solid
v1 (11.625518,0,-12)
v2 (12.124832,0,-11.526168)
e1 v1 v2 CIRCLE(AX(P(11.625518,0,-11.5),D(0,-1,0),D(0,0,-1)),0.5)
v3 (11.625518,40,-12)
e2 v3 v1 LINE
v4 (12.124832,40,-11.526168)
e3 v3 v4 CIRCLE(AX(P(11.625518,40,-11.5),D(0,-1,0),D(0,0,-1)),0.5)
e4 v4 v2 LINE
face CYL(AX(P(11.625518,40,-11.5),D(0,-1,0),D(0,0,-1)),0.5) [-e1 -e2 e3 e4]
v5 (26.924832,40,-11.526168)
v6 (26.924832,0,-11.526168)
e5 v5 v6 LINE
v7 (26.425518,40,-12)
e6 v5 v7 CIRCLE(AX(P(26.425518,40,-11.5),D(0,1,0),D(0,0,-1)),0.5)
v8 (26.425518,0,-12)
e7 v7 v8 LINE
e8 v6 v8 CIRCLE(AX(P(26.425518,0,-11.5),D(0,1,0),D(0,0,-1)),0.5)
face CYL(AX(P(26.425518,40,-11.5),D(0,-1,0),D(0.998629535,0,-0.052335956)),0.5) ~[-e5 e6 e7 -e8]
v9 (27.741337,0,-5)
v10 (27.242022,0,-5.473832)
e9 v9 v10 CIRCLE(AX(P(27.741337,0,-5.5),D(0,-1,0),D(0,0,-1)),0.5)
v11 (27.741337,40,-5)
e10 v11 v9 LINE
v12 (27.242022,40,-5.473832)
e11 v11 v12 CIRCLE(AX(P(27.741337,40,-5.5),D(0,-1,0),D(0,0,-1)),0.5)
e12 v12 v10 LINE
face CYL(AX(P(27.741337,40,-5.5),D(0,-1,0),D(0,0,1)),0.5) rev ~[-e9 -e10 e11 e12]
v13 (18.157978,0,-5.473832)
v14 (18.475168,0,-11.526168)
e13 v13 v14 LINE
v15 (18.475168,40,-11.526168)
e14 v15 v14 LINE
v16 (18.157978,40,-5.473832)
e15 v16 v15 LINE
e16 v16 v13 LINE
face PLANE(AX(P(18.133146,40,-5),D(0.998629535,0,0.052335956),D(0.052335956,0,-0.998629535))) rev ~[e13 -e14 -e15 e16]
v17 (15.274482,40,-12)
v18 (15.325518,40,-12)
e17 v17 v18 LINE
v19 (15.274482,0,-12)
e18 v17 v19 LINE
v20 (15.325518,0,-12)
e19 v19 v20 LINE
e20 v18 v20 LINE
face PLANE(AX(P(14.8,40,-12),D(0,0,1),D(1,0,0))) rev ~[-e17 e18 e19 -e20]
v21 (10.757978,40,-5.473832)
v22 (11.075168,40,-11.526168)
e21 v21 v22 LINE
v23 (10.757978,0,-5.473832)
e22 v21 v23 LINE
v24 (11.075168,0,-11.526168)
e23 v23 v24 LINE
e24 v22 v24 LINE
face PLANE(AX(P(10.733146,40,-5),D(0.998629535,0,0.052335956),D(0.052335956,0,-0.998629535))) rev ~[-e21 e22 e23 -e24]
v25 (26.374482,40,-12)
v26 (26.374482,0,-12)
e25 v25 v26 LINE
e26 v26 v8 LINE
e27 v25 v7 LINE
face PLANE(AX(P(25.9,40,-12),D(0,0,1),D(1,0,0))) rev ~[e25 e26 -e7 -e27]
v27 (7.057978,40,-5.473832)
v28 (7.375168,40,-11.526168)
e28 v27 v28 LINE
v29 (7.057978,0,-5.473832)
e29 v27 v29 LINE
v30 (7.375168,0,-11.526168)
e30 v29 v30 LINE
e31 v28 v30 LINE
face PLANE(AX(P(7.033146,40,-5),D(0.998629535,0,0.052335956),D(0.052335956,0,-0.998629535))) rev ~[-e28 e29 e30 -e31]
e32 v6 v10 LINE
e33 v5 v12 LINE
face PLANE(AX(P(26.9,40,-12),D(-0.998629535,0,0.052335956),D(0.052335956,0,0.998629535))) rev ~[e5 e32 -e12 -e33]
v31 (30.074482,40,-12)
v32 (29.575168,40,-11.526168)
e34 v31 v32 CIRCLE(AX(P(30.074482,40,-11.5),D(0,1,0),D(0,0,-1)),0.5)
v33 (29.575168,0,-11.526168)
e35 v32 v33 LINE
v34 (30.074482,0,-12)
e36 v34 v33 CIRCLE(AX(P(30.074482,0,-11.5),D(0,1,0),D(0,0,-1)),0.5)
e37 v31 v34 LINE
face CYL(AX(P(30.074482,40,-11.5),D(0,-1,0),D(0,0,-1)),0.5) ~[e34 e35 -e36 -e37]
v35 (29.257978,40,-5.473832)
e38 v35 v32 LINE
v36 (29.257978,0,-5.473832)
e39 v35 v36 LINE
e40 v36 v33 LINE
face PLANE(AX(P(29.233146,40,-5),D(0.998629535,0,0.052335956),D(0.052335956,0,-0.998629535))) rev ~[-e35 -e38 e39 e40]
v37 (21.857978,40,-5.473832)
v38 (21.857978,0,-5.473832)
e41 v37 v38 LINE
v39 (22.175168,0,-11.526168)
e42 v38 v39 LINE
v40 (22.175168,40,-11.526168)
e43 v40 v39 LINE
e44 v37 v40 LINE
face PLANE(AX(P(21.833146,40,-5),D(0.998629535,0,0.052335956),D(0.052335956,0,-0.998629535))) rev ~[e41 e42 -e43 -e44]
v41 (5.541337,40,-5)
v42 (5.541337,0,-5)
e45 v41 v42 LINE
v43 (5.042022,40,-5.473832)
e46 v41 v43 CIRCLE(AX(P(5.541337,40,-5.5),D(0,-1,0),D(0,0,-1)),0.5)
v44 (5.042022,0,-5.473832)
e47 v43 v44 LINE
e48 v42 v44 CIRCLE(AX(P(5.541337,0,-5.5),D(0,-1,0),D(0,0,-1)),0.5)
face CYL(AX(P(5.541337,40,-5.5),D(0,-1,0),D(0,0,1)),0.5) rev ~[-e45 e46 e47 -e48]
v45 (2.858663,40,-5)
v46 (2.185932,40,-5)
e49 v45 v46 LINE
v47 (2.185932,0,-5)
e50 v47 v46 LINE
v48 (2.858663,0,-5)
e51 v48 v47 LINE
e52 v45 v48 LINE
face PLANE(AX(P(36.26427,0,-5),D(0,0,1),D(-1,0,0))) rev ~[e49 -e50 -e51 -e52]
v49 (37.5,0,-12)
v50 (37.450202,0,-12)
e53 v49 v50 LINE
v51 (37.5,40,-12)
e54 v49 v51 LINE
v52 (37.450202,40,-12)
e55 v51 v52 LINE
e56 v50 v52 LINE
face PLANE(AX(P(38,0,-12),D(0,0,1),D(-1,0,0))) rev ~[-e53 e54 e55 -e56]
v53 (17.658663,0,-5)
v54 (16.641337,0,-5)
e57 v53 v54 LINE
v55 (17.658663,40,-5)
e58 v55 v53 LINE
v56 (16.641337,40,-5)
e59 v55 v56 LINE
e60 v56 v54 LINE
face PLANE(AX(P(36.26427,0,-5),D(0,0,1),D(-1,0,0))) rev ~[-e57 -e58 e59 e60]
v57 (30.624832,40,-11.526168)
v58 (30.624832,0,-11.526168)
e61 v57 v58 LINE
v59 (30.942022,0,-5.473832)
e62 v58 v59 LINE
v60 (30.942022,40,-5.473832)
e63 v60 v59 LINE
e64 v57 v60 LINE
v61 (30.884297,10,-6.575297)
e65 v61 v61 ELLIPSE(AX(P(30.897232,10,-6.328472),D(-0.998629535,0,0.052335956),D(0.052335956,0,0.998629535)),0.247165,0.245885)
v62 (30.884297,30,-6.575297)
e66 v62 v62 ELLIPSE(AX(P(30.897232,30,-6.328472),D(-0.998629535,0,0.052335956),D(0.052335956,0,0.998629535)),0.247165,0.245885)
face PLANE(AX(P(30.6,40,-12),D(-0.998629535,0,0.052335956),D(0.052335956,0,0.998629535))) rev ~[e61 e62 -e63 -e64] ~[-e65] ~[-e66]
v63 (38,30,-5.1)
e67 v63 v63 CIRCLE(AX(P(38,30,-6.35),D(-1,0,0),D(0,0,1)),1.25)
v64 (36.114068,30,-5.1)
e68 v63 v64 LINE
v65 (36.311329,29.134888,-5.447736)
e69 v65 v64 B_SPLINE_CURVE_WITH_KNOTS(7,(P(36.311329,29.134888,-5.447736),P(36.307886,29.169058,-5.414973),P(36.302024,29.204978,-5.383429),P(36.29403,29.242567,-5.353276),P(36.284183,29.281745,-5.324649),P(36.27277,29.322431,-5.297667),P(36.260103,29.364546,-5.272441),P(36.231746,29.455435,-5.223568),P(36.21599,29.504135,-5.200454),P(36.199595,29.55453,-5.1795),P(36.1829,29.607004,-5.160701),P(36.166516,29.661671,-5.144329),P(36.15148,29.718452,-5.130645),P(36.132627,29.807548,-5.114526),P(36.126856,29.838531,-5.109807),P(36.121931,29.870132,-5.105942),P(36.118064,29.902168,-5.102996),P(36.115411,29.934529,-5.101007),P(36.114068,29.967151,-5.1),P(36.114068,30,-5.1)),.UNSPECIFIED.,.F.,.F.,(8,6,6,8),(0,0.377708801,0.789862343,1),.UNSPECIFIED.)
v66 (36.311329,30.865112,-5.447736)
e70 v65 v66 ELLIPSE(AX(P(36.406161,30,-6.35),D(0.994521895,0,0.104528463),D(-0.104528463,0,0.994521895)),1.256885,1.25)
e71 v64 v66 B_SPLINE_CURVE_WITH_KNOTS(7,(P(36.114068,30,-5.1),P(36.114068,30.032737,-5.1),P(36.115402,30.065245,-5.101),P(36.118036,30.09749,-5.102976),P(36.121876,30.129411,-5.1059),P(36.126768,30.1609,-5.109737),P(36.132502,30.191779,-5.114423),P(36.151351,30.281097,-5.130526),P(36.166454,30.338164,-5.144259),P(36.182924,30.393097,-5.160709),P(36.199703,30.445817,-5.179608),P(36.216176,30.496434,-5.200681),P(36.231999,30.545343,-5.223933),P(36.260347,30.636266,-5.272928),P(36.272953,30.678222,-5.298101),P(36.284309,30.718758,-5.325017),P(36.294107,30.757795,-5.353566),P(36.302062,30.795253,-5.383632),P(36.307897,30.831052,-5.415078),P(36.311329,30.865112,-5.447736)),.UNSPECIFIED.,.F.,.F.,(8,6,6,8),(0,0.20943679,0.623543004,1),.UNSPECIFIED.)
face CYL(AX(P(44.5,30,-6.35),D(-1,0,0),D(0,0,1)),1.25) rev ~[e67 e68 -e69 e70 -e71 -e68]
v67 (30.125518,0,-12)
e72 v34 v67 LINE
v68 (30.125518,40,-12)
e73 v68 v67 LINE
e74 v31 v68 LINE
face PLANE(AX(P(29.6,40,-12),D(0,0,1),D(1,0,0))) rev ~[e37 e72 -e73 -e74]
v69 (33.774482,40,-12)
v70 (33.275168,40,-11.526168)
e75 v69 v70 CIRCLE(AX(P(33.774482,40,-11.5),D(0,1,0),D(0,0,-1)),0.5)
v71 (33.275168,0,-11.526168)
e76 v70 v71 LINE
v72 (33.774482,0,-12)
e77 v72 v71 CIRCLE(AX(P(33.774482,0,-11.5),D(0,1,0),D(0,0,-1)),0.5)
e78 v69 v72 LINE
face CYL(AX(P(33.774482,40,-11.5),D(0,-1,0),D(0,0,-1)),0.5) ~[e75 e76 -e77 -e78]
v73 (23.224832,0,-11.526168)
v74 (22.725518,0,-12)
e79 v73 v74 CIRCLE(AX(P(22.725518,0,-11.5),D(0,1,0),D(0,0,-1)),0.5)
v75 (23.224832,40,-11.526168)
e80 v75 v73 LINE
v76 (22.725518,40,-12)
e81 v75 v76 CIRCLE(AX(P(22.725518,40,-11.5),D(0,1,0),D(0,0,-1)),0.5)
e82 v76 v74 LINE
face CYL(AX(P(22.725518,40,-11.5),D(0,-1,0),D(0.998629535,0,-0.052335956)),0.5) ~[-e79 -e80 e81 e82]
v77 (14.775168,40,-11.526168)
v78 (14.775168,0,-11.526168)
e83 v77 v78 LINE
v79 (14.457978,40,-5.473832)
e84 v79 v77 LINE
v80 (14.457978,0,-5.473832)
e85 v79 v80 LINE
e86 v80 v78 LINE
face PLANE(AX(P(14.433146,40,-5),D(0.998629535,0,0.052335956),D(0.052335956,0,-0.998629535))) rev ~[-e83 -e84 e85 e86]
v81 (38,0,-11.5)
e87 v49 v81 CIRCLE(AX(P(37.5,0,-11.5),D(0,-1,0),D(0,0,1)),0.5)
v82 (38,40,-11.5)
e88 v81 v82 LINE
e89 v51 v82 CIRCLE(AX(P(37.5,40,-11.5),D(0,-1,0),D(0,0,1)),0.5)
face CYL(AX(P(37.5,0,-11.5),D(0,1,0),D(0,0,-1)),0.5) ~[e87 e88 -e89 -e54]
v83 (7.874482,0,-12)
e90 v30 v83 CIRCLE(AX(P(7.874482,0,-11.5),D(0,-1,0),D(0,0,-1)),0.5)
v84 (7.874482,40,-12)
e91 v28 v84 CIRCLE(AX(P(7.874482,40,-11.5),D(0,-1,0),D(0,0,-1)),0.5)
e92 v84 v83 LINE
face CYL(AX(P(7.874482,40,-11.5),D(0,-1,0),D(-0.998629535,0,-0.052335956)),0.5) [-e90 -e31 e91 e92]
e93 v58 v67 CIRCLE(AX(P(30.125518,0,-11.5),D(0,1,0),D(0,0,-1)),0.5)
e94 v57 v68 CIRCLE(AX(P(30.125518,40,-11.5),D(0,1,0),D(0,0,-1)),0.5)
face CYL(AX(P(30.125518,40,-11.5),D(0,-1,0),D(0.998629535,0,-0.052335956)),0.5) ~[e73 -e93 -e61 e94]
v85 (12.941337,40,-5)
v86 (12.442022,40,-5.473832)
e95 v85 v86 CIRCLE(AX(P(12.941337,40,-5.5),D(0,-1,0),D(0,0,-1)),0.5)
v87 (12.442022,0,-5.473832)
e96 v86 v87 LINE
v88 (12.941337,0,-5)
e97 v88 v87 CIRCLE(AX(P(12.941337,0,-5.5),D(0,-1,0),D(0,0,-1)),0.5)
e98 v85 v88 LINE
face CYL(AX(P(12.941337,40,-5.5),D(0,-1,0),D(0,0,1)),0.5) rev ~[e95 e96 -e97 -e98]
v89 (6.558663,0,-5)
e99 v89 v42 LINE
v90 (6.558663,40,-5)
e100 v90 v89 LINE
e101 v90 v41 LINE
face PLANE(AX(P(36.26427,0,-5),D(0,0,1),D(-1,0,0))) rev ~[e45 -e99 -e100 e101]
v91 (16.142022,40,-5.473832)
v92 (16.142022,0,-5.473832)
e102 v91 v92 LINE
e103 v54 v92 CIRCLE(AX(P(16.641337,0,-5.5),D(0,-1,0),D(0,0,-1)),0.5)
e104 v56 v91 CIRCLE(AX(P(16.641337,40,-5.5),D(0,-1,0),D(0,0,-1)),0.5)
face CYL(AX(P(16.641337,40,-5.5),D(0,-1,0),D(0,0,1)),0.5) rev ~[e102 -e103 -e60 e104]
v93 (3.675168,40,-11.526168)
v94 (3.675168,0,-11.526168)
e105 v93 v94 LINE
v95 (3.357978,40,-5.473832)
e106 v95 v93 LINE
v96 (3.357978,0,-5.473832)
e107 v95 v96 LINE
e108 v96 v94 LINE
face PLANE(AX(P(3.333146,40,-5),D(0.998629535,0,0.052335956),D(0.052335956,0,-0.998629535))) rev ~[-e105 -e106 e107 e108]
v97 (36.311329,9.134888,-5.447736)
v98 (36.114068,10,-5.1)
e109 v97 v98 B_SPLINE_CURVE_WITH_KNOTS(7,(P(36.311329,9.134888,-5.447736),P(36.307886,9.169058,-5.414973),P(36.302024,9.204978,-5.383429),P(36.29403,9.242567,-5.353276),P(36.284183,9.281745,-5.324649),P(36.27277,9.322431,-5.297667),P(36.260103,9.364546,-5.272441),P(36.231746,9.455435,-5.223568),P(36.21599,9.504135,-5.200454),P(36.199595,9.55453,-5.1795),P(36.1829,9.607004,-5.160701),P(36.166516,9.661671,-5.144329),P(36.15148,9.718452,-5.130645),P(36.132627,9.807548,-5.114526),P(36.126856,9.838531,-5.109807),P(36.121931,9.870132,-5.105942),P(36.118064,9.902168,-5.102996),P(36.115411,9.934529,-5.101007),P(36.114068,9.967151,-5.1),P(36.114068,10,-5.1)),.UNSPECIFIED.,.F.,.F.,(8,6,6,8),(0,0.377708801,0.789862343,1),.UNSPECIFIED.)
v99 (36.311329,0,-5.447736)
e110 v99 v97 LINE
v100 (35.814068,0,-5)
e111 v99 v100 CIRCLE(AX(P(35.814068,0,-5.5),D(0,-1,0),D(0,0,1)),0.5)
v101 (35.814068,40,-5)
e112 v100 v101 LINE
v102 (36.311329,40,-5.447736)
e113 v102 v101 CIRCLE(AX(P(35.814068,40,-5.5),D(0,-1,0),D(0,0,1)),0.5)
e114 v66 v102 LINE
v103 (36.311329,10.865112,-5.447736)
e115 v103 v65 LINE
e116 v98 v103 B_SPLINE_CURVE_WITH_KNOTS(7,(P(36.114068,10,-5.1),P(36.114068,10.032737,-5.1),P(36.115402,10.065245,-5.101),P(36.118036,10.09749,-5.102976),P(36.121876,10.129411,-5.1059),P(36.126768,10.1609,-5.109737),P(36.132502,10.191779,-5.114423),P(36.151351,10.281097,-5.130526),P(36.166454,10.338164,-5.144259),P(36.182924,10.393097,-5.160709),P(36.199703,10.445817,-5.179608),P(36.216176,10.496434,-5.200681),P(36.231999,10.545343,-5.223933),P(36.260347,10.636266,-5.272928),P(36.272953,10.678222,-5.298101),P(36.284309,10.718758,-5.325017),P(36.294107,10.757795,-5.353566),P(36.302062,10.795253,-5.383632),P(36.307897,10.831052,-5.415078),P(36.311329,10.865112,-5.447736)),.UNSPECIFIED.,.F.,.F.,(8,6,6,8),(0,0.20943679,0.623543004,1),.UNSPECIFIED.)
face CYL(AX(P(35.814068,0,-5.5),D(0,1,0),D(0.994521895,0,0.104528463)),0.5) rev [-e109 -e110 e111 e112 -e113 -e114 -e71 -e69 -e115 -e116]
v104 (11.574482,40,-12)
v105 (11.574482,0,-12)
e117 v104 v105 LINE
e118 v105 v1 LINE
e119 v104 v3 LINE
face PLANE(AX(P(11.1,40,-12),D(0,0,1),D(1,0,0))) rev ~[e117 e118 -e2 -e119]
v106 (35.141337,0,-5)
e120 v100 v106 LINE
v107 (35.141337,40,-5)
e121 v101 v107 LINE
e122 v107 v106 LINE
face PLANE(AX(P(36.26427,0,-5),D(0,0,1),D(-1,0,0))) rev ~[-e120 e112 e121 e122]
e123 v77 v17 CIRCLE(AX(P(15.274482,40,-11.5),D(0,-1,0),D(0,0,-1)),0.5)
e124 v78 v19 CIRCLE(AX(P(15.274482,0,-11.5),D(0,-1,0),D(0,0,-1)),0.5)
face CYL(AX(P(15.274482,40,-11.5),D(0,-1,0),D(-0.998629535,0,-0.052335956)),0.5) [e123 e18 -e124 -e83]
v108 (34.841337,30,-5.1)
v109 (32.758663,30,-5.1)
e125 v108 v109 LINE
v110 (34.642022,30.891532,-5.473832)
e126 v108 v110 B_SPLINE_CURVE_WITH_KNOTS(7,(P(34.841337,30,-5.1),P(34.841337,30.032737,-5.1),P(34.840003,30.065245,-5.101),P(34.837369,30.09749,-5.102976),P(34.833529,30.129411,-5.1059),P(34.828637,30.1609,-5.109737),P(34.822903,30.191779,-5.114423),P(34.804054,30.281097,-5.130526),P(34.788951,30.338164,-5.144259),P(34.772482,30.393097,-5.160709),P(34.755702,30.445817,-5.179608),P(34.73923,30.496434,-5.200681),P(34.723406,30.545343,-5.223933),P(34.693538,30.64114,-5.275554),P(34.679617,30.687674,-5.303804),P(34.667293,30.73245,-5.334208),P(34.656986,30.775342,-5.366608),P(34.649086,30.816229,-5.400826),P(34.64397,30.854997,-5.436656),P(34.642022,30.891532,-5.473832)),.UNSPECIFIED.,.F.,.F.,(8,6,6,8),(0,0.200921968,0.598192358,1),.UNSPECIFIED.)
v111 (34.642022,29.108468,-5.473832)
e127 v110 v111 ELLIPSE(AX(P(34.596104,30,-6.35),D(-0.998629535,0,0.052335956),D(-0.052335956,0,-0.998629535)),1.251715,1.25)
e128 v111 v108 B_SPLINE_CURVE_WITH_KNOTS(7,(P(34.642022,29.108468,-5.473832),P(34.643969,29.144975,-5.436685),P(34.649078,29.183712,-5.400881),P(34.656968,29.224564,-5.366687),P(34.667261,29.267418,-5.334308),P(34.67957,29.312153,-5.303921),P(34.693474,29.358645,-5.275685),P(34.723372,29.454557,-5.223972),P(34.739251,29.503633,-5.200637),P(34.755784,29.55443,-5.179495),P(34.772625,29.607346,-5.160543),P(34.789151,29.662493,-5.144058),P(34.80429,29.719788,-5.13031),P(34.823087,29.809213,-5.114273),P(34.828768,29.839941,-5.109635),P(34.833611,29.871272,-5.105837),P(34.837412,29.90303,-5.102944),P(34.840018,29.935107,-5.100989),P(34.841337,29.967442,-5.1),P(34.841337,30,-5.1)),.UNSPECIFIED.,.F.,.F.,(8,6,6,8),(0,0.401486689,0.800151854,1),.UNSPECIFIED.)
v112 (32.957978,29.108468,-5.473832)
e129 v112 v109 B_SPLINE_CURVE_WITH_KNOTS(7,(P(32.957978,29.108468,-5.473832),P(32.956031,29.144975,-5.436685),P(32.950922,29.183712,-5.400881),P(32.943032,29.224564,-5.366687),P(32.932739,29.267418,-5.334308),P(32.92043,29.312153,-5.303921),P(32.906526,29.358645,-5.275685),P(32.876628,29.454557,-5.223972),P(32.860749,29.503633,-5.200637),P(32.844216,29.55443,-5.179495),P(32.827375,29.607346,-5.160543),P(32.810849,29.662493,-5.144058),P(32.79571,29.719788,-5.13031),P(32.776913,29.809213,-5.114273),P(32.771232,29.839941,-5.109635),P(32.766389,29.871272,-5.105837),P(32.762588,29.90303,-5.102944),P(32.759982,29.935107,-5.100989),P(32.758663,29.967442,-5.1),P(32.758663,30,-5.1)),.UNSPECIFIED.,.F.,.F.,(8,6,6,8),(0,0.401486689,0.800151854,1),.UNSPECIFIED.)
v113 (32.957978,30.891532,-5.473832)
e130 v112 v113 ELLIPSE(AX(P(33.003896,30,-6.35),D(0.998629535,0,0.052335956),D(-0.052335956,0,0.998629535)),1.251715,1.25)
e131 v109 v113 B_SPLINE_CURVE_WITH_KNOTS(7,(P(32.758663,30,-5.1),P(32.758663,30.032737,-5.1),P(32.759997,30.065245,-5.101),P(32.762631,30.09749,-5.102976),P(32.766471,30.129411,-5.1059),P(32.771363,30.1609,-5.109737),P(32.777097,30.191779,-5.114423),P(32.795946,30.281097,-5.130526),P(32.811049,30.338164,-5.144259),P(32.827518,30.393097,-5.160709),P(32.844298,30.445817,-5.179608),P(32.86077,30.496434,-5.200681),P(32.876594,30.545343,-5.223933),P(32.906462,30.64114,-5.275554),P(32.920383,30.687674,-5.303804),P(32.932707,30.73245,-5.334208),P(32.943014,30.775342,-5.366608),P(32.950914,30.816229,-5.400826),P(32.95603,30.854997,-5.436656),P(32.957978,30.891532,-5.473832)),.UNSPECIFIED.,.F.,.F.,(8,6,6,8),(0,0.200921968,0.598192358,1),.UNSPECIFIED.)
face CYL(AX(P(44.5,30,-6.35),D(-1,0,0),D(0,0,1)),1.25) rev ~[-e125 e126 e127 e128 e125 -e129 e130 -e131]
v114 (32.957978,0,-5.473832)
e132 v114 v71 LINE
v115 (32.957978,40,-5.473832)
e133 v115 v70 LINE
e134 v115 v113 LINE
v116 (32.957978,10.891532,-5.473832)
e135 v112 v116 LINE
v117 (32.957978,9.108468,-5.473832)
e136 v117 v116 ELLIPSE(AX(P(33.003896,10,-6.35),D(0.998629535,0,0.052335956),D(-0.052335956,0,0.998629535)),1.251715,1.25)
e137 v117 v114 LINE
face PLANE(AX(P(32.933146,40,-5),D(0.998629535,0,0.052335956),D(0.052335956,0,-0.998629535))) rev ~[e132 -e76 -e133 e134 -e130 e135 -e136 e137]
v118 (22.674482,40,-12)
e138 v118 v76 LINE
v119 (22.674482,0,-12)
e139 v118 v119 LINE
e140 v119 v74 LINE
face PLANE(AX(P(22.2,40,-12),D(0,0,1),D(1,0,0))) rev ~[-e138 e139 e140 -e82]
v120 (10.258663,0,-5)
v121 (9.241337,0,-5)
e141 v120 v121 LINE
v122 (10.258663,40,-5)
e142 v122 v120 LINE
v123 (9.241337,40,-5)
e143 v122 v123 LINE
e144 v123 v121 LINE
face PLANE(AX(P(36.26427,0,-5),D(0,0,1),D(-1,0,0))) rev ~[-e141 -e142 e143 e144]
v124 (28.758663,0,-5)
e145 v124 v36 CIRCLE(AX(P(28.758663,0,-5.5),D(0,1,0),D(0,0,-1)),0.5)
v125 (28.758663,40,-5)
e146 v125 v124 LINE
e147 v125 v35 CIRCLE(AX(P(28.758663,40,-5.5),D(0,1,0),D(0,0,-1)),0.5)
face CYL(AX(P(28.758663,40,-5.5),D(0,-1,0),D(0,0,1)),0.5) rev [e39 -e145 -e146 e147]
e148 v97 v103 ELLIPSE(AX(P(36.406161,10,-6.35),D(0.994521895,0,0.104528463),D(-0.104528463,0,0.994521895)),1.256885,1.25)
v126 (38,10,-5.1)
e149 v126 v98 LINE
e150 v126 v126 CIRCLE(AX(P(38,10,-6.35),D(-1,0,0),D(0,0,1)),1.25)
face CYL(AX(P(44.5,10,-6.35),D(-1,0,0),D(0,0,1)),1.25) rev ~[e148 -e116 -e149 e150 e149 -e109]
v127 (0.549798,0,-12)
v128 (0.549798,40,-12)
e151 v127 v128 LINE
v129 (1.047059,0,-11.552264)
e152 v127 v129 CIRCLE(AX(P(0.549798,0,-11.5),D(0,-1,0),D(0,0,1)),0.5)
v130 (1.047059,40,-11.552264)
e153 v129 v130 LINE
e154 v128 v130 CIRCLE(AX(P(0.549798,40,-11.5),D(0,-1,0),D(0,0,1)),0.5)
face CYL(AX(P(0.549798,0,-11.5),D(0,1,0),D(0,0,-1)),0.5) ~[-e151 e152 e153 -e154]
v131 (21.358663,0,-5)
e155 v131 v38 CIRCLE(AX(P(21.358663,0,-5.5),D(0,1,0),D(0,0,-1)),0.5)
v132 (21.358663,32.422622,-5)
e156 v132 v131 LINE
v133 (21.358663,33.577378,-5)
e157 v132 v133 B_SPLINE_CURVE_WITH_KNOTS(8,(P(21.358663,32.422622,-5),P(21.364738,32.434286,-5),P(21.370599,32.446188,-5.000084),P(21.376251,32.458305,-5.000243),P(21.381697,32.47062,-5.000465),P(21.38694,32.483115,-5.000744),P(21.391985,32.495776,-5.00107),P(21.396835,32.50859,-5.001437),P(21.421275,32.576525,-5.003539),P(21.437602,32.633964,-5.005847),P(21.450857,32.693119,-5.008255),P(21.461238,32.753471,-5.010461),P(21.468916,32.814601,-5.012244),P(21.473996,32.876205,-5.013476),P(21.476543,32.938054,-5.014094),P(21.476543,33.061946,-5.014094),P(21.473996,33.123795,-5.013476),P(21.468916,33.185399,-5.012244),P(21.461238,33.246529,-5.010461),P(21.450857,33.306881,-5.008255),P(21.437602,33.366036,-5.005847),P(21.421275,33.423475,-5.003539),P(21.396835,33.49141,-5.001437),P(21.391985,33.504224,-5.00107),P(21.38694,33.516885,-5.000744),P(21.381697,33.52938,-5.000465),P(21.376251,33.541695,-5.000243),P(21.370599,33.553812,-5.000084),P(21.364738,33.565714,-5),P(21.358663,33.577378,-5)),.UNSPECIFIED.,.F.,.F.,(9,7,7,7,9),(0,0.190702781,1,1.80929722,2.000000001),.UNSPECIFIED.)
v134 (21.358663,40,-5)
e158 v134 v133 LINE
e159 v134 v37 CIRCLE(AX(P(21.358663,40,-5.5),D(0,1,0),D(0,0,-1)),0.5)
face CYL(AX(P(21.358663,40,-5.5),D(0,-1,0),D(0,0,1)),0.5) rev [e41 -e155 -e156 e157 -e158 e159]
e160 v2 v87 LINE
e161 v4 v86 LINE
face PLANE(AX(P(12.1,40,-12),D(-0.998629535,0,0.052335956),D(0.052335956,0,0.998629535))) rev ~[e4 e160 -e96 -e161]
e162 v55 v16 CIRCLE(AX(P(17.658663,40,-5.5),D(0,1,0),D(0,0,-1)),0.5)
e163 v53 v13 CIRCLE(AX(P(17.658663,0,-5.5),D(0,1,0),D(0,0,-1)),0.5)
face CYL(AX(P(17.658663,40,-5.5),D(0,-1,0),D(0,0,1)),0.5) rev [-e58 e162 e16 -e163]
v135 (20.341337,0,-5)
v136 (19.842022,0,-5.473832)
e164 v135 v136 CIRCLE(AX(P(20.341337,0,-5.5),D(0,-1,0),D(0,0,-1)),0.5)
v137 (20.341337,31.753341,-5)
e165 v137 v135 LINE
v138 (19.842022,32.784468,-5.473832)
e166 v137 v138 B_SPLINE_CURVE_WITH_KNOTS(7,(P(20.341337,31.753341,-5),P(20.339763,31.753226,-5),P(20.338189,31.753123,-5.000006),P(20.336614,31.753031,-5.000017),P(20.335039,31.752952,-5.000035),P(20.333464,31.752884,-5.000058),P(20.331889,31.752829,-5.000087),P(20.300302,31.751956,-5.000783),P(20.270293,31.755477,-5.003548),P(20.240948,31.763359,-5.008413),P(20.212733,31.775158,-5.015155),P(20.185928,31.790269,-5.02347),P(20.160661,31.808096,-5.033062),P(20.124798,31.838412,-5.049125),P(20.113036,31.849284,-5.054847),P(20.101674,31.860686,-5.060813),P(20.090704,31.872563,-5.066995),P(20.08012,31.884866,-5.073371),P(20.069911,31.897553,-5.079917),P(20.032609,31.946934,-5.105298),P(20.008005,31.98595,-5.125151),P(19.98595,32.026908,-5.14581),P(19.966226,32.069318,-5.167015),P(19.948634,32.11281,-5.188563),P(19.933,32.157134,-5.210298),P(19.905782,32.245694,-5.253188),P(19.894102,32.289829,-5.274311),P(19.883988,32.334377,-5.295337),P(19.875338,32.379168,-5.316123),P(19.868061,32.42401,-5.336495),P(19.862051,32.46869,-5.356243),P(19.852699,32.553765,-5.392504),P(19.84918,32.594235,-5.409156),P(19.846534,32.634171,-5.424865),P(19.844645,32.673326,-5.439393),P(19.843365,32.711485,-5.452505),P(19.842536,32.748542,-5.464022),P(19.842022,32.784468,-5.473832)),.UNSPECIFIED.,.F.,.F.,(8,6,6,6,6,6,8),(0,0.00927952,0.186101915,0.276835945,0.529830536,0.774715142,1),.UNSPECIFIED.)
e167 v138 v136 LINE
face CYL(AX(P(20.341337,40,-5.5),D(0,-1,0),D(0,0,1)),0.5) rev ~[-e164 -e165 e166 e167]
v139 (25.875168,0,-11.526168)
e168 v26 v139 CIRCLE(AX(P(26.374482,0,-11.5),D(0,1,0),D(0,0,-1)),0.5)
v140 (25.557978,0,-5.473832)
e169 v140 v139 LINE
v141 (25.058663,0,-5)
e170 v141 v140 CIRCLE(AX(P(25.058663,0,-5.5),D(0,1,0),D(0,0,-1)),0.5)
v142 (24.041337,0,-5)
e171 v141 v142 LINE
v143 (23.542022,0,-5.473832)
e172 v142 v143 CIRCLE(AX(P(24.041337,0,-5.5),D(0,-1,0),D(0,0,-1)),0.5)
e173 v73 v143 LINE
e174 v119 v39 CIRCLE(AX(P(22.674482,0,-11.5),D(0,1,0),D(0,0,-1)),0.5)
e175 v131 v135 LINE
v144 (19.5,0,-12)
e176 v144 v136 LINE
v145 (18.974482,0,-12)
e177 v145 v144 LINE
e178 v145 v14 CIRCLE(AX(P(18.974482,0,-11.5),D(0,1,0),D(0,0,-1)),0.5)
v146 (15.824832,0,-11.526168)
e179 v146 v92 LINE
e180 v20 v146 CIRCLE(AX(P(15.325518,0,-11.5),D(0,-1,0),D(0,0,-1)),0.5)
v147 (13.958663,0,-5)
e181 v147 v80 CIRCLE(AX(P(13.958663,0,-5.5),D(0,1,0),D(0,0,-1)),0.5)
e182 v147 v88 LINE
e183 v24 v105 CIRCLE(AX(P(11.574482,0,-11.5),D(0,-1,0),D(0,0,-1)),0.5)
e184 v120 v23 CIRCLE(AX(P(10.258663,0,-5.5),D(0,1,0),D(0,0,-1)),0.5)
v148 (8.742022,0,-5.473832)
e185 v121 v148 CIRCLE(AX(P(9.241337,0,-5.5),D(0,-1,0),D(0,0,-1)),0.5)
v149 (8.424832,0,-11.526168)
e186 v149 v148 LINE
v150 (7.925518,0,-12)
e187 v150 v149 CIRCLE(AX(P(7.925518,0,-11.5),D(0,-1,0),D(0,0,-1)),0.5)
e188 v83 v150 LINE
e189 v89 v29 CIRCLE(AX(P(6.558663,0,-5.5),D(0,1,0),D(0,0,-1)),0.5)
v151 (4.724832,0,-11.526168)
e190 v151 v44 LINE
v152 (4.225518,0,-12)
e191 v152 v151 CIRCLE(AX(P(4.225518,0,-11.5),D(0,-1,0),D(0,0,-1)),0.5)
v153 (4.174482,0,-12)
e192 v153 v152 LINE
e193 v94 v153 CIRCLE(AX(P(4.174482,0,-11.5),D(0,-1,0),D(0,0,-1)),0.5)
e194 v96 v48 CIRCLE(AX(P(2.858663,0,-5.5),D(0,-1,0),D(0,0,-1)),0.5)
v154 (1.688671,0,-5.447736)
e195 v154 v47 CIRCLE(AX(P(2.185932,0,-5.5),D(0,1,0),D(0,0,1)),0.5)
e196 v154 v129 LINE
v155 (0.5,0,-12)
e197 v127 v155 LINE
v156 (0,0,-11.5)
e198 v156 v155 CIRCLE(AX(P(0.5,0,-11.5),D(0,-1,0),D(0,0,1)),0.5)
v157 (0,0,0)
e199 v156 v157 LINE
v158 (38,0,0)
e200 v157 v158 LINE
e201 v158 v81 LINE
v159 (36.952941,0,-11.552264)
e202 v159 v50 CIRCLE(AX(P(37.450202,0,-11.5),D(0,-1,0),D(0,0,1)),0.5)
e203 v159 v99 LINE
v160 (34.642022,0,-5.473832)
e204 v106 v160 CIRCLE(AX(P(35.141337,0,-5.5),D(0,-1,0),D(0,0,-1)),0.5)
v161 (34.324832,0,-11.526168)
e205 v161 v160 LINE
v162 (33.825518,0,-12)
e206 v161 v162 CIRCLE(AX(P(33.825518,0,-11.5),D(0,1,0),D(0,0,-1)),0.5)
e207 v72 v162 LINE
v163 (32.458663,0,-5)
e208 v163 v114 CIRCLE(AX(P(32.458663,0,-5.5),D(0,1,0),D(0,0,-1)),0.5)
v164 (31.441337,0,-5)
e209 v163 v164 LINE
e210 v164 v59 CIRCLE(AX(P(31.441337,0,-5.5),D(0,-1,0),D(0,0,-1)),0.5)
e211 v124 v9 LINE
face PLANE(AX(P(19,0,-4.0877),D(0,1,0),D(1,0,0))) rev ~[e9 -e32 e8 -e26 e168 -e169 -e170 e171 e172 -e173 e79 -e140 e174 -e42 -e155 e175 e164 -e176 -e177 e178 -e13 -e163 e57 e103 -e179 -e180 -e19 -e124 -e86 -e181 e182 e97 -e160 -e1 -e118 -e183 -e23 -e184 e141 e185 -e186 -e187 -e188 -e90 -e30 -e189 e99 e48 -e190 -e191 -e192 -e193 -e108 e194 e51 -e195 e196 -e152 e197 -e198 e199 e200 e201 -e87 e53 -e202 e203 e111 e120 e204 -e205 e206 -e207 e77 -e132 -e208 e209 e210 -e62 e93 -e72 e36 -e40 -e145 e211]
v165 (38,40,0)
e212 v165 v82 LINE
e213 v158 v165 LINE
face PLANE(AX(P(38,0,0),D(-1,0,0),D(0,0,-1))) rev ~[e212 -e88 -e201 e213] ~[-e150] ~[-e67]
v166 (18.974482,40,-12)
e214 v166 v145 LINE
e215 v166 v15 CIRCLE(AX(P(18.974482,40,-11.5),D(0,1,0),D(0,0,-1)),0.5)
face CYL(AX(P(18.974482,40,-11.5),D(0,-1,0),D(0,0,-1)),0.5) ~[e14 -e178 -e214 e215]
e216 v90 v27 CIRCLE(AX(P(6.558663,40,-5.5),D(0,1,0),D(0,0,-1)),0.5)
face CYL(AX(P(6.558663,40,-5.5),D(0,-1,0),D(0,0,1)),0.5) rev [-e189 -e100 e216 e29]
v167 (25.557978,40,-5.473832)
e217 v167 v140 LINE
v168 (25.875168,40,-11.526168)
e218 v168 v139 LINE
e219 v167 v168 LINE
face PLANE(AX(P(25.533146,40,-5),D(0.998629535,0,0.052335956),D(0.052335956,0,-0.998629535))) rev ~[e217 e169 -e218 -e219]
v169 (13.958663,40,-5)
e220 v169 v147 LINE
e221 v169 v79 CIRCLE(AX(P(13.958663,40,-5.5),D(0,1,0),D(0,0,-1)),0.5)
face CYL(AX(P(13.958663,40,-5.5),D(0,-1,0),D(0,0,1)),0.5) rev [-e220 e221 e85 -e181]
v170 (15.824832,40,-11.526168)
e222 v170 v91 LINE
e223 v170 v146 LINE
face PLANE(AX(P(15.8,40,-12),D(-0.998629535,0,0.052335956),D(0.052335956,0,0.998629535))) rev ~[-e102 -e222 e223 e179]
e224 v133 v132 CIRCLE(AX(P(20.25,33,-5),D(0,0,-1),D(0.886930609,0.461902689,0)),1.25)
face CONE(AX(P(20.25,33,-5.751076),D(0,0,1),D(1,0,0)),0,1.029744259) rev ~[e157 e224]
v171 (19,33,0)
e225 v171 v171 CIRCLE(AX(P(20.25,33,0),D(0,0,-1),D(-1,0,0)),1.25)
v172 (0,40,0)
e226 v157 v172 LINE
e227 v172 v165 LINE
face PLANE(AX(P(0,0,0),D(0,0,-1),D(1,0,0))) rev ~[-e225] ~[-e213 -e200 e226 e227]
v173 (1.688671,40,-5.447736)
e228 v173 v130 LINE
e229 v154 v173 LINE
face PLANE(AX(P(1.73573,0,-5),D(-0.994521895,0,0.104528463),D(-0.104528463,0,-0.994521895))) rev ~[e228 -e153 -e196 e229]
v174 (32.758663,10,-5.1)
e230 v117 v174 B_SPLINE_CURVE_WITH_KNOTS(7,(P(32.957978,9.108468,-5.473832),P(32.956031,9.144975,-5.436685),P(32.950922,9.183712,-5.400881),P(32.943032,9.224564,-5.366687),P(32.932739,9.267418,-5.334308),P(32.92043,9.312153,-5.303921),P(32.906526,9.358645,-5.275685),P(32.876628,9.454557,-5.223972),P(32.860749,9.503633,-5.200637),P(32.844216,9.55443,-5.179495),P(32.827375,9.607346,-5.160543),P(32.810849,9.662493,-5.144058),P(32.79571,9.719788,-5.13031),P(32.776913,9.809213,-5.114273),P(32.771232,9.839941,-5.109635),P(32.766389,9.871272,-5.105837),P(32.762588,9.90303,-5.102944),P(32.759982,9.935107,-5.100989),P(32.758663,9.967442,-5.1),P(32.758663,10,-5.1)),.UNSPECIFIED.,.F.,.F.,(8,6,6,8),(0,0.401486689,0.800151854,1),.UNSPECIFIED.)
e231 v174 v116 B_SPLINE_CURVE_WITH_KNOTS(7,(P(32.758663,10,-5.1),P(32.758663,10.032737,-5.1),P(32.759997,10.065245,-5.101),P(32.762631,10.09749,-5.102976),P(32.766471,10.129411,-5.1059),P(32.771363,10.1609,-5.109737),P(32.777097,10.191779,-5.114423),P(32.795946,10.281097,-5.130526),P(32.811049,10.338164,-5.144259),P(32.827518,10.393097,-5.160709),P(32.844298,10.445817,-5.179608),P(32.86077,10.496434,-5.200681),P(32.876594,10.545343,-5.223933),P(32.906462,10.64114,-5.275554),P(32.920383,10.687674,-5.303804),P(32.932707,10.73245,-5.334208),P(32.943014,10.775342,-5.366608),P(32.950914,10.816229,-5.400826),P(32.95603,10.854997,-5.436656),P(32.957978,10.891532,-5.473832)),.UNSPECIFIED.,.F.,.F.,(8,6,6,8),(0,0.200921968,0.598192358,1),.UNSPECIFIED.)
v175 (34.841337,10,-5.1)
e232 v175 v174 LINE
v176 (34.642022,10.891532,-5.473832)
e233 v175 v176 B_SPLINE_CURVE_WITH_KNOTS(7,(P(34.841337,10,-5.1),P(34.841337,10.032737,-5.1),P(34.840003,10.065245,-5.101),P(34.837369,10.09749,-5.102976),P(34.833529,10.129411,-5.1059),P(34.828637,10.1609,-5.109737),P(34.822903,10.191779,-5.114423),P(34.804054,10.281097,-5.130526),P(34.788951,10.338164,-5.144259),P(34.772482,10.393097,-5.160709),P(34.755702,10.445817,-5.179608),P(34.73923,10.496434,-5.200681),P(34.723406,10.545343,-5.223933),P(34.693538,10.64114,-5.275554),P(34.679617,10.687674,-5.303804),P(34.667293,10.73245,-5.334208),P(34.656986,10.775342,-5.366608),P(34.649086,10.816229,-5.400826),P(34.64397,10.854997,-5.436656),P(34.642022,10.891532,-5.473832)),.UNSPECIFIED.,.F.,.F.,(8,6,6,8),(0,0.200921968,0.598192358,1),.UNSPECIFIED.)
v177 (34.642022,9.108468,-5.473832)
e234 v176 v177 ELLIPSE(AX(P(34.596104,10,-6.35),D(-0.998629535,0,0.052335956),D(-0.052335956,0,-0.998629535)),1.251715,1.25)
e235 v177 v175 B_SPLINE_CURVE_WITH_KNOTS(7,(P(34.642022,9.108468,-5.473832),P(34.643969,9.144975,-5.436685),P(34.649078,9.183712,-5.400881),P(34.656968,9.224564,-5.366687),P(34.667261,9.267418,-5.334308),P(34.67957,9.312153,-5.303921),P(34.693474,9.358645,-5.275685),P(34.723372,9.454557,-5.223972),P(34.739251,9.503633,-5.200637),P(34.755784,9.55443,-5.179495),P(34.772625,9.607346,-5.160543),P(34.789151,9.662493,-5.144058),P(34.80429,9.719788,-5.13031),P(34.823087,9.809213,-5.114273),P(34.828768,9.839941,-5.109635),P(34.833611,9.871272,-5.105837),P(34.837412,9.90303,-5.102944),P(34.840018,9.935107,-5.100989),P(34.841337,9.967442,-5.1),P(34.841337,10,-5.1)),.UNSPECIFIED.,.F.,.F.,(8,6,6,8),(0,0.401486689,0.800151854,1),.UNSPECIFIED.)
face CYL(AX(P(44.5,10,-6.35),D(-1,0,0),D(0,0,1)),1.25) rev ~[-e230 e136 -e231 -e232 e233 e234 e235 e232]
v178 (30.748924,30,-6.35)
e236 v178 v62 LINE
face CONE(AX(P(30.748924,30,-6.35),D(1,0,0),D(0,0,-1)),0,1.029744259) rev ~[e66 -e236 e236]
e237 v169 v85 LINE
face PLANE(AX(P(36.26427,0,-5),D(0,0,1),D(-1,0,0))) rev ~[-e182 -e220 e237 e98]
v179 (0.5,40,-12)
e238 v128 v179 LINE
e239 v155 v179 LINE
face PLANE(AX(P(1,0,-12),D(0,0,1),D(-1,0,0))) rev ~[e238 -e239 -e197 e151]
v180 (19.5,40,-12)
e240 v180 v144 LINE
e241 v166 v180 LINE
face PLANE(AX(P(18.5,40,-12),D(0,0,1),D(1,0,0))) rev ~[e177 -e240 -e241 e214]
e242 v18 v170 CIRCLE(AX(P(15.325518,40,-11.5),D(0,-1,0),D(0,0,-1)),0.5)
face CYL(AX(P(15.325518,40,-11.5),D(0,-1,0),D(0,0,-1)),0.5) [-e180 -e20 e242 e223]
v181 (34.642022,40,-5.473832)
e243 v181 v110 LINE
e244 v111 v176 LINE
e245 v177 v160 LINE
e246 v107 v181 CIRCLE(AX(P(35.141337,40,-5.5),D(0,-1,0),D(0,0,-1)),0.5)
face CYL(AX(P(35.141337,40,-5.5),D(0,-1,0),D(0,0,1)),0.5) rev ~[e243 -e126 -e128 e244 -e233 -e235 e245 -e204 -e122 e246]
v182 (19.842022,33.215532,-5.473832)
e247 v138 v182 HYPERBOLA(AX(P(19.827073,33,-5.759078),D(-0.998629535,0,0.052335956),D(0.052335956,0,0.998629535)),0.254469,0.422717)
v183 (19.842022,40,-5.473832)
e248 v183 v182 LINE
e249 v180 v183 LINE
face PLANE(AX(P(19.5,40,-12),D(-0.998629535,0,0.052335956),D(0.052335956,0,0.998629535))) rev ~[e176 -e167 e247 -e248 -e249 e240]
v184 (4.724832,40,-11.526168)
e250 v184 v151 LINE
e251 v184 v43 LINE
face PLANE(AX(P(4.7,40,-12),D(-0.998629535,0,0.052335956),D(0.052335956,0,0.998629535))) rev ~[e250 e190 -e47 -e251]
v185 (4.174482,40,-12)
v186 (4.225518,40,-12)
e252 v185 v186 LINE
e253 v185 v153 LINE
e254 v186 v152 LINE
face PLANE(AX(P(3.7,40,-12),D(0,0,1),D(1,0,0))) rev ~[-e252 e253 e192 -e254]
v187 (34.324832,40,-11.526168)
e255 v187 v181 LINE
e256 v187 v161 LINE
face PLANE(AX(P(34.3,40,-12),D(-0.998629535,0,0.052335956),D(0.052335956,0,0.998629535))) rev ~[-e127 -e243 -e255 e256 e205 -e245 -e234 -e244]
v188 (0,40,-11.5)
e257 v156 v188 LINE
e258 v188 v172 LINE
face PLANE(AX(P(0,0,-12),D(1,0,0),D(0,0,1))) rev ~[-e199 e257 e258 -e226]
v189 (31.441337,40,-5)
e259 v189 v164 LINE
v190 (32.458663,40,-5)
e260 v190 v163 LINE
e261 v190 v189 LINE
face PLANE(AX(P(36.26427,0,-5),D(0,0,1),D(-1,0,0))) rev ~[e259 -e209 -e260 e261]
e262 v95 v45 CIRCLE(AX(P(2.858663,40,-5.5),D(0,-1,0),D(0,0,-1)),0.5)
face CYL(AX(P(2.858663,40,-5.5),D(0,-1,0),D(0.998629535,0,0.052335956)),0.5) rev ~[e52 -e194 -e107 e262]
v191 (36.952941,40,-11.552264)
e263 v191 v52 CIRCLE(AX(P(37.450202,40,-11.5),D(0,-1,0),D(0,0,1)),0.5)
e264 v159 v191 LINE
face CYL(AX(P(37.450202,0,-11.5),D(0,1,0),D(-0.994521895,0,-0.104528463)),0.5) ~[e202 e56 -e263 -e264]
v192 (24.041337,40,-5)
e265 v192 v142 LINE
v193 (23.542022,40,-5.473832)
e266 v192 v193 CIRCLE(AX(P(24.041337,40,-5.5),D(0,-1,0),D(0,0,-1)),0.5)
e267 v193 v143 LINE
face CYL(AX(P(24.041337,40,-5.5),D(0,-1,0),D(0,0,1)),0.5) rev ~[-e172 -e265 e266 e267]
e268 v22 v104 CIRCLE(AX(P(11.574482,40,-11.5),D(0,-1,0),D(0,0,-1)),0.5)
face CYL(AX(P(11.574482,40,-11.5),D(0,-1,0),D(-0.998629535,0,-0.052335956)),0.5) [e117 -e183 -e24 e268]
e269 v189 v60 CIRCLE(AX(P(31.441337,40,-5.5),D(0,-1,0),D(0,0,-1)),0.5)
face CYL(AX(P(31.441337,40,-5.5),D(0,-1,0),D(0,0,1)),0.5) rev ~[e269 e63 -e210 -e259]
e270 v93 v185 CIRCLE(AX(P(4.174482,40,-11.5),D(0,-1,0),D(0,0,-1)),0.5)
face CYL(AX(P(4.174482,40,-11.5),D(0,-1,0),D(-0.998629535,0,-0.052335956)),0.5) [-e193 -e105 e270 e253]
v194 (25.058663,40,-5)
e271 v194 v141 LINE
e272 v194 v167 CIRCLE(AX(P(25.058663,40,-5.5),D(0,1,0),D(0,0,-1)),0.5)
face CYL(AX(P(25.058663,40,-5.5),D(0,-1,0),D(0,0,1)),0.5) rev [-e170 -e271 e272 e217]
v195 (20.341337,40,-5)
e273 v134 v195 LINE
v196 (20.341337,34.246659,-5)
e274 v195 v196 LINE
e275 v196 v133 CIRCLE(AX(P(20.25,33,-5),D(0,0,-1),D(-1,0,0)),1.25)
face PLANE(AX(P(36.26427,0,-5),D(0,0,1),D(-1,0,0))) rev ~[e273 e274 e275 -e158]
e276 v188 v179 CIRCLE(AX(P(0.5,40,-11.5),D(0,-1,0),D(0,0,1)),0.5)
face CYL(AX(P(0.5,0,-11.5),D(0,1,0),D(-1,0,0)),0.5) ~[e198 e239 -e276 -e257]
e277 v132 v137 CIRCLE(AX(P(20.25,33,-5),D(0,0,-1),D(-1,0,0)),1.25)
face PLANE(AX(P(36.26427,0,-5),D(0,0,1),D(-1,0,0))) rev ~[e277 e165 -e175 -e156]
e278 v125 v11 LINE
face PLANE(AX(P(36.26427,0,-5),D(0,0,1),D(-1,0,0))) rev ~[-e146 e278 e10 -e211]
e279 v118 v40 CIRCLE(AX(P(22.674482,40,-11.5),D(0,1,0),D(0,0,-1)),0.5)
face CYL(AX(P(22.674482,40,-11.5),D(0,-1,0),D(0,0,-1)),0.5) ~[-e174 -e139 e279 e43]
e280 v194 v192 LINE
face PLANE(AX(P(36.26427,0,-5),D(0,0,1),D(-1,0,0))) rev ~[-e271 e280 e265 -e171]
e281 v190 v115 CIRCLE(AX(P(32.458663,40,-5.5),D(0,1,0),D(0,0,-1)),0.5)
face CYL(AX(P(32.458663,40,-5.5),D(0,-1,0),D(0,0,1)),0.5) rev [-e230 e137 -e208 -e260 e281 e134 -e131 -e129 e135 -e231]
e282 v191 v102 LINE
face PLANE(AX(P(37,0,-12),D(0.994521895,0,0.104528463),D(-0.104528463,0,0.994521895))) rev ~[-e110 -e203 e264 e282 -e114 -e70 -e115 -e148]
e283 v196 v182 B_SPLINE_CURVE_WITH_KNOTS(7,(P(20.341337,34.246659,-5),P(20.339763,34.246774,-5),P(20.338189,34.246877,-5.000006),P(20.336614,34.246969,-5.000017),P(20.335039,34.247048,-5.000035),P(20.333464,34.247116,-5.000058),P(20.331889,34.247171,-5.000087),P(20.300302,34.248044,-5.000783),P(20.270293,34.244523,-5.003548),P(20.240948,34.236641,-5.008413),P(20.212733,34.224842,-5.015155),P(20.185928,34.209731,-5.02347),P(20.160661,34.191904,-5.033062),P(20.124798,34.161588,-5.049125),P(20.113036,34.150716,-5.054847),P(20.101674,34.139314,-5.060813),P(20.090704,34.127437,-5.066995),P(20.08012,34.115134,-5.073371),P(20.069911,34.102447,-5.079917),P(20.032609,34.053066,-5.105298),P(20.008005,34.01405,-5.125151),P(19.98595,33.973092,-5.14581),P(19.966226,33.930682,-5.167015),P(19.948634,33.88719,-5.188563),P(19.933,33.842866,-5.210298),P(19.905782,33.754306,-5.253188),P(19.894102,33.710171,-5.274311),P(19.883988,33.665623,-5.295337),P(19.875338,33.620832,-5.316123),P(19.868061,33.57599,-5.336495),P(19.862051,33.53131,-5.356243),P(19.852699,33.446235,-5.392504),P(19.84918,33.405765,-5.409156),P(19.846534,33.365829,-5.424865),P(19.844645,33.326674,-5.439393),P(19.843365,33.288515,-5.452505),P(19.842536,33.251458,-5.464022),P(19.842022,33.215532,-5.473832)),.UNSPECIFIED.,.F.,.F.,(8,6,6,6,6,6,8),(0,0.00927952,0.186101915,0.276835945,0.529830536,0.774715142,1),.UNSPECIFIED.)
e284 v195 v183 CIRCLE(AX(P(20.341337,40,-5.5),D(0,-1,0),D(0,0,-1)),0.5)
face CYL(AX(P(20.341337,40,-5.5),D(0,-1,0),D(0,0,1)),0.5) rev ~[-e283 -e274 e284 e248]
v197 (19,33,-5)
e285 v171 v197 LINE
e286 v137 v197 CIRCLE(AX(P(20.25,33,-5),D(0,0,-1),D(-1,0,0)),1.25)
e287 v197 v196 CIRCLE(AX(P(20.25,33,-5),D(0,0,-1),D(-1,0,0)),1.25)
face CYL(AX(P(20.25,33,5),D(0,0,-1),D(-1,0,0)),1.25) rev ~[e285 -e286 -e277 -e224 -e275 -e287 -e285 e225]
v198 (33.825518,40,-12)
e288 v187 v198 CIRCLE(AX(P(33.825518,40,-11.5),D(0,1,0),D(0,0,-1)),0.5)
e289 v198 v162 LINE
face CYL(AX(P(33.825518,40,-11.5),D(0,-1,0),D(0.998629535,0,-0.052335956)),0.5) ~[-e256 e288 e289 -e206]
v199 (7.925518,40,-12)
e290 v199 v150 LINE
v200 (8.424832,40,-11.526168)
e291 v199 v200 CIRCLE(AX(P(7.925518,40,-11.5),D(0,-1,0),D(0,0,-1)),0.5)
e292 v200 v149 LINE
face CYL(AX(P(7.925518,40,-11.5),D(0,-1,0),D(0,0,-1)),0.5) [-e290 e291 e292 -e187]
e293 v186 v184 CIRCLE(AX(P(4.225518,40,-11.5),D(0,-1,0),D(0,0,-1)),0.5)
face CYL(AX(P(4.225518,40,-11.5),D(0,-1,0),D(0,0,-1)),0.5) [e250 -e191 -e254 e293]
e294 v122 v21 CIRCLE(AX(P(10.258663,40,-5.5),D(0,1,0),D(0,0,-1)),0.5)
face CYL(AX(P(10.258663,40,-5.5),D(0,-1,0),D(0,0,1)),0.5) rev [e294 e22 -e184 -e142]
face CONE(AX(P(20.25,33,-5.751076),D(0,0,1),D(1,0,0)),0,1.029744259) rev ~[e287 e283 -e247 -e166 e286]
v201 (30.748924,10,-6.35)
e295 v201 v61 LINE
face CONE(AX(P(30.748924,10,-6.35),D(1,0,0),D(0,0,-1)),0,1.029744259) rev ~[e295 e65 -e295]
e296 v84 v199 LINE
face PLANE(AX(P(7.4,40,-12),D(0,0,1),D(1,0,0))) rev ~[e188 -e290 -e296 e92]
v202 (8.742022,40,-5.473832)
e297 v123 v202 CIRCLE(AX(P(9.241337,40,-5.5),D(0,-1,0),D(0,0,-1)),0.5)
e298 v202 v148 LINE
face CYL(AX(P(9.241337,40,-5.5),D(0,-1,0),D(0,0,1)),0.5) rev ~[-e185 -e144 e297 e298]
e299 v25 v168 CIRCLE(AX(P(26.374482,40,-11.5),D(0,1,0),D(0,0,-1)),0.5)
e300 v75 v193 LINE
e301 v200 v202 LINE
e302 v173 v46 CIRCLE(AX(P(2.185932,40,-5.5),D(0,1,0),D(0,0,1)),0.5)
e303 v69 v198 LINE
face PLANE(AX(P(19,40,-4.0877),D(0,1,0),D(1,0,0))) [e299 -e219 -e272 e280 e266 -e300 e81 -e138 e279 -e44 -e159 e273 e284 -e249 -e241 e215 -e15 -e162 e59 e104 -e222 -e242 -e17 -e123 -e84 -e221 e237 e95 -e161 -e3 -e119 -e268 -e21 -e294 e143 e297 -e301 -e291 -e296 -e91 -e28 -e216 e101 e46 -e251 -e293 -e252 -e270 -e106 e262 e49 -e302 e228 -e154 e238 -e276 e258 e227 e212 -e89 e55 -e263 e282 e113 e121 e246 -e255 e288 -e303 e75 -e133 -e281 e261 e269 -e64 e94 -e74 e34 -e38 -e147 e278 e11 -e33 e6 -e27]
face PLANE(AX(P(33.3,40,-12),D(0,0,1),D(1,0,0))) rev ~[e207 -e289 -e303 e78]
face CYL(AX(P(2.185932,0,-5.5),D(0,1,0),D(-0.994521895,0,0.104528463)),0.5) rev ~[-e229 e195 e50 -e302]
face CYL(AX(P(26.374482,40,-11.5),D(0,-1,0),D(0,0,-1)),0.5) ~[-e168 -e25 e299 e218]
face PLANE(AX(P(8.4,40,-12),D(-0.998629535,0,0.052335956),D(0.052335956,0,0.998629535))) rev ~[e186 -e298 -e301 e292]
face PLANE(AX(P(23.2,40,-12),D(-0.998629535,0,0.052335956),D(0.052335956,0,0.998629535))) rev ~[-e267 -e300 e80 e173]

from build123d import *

# Parameters (mm, degrees)
EXTRUDE1_DEPTH            = 40
BOSS_EXTRUDE1_DEPTH       = 40
LPATTERN1_COUNT           = 9
LPATTERN1_PITCH           = 3.7
FILLET1_R                 = 0.5
FILLET2_R                 = 0.5
M3X0_5_TAPPED_HOLE1_D     = 2.5
M3X0_5_TAPPED_HOLE1_DEPTH = 6.5
M3X0_5_TAPPED_HOLE1_TIP   = 0.751075774
M3X0_5_TAPPED_HOLE2_D     = 2.5
M3X0_5_TAPPED_HOLE2_DEPTH = 5
M3X0_5_TAPPED_HOLE2_TIP   = 0.751075774


with BuildPart() as part:
    # Sketch1 → Extrude1 (new body)
    with BuildSketch(Plane(origin=(0, 0, 0), x_dir=(1, 0, 0), z_dir=(0, 1, 0))):
        Polygon((0, 12), (0, 0), (38, 0), (38, 12), (37, 12), (36.264270353, 5), (1.735729647, 5), (1, 12), align=None)
    extrude(amount=EXTRUDE1_DEPTH)

    # Sketch3 → Boss-Extrude1 (add)
    with BuildSketch(Plane(origin=(0, 40, 0), x_dir=(1, 0, 0), z_dir=(0, 1, 0))):
        Polygon((3.333145545, 5), (3.7, 12), (4.7, 12), (5.066854455, 5), align=None)
    boss_extrude1 = extrude(amount=-BOSS_EXTRUDE1_DEPTH)

    # LPattern1: Boss-Extrude1 ×9
    with Locations(*[(i * LPATTERN1_PITCH, 0, 0) for i in range(1, LPATTERN1_COUNT)]):
        add(boss_extrude1)

    # Fillet1
    fillet1_edges = [part.edges().sort_by_distance(p)[0] for p in [
        (34.666854455, 20, -5),
        (32.933145545, 20, -5),
        (1.735729647, 20, -5),
        (36.264270353, 20, -5),
        (5.066854455, 20, -5),
        (3.333145545, 20, -5),
        (8.766854455, 20, -5),
        (7.033145545, 20, -5),
        (12.466854455, 20, -5),
        (10.733145545, 20, -5),
        (16.166854455, 20, -5),
        (14.433145545, 20, -5),
        (19.866854455, 20, -5),
        (18.133145545, 20, -5),
        (23.566854455, 20, -5),
        (21.833145545, 20, -5),
        (27.266854455, 20, -5),
        (25.533145545, 20, -5),
        (30.966854455, 20, -5),
        (29.233145545, 20, -5),
    ]]
    fillet(fillet1_edges, radius=FILLET1_R)

    # Fillet2
    fillet2_edges = [part.edges().sort_by_distance(p)[0] for p in [
        (33.3, 20, -12),
        (34.3, 20, -12),
        (1, 20, -12),
        (37, 20, -12),
        (38, 20, -12),
        (0, 20, -12),
        (3.7, 20, -12),
        (4.7, 20, -12),
        (7.4, 20, -12),
        (8.4, 20, -12),
        (11.1, 20, -12),
        (12.1, 20, -12),
        (14.8, 20, -12),
        (15.8, 20, -12),
        (18.5, 20, -12),
        (22.2, 20, -12),
        (23.2, 20, -12),
        (25.9, 20, -12),
        (26.9, 20, -12),
        (29.6, 20, -12),
        (30.6, 20, -12),
    ]]
    fillet(fillet2_edges, radius=FILLET2_R)

    # M3x0.5 Tapped Hole1
    with Locations(Plane(origin=(38, 0, 0), x_dir=(0, 0, -1), z_dir=(1, 0, 0))):
        with Locations((6.35, 30), (6.35, 10)):
            Hole(M3X0_5_TAPPED_HOLE1_D / 2, depth=M3X0_5_TAPPED_HOLE1_DEPTH)
            with Locations((0, 0, -(M3X0_5_TAPPED_HOLE1_DEPTH + M3X0_5_TAPPED_HOLE1_TIP / 2))):  # 118° drill point
                Cone(0, M3X0_5_TAPPED_HOLE1_D / 2, M3X0_5_TAPPED_HOLE1_TIP, mode=Mode.SUBTRACT)

    # M3x0.5 Tapped Hole2
    with Locations(Plane.XY):
        with Locations((20.25, 33)):
            Hole(M3X0_5_TAPPED_HOLE2_D / 2, depth=M3X0_5_TAPPED_HOLE2_DEPTH)
            with Locations((0, 0, -(M3X0_5_TAPPED_HOLE2_DEPTH + M3X0_5_TAPPED_HOLE2_TIP / 2))):  # 118° drill point
                Cone(0, M3X0_5_TAPPED_HOLE2_D / 2, M3X0_5_TAPPED_HOLE2_TIP, mode=Mode.SUBTRACT)


solid = part.part
